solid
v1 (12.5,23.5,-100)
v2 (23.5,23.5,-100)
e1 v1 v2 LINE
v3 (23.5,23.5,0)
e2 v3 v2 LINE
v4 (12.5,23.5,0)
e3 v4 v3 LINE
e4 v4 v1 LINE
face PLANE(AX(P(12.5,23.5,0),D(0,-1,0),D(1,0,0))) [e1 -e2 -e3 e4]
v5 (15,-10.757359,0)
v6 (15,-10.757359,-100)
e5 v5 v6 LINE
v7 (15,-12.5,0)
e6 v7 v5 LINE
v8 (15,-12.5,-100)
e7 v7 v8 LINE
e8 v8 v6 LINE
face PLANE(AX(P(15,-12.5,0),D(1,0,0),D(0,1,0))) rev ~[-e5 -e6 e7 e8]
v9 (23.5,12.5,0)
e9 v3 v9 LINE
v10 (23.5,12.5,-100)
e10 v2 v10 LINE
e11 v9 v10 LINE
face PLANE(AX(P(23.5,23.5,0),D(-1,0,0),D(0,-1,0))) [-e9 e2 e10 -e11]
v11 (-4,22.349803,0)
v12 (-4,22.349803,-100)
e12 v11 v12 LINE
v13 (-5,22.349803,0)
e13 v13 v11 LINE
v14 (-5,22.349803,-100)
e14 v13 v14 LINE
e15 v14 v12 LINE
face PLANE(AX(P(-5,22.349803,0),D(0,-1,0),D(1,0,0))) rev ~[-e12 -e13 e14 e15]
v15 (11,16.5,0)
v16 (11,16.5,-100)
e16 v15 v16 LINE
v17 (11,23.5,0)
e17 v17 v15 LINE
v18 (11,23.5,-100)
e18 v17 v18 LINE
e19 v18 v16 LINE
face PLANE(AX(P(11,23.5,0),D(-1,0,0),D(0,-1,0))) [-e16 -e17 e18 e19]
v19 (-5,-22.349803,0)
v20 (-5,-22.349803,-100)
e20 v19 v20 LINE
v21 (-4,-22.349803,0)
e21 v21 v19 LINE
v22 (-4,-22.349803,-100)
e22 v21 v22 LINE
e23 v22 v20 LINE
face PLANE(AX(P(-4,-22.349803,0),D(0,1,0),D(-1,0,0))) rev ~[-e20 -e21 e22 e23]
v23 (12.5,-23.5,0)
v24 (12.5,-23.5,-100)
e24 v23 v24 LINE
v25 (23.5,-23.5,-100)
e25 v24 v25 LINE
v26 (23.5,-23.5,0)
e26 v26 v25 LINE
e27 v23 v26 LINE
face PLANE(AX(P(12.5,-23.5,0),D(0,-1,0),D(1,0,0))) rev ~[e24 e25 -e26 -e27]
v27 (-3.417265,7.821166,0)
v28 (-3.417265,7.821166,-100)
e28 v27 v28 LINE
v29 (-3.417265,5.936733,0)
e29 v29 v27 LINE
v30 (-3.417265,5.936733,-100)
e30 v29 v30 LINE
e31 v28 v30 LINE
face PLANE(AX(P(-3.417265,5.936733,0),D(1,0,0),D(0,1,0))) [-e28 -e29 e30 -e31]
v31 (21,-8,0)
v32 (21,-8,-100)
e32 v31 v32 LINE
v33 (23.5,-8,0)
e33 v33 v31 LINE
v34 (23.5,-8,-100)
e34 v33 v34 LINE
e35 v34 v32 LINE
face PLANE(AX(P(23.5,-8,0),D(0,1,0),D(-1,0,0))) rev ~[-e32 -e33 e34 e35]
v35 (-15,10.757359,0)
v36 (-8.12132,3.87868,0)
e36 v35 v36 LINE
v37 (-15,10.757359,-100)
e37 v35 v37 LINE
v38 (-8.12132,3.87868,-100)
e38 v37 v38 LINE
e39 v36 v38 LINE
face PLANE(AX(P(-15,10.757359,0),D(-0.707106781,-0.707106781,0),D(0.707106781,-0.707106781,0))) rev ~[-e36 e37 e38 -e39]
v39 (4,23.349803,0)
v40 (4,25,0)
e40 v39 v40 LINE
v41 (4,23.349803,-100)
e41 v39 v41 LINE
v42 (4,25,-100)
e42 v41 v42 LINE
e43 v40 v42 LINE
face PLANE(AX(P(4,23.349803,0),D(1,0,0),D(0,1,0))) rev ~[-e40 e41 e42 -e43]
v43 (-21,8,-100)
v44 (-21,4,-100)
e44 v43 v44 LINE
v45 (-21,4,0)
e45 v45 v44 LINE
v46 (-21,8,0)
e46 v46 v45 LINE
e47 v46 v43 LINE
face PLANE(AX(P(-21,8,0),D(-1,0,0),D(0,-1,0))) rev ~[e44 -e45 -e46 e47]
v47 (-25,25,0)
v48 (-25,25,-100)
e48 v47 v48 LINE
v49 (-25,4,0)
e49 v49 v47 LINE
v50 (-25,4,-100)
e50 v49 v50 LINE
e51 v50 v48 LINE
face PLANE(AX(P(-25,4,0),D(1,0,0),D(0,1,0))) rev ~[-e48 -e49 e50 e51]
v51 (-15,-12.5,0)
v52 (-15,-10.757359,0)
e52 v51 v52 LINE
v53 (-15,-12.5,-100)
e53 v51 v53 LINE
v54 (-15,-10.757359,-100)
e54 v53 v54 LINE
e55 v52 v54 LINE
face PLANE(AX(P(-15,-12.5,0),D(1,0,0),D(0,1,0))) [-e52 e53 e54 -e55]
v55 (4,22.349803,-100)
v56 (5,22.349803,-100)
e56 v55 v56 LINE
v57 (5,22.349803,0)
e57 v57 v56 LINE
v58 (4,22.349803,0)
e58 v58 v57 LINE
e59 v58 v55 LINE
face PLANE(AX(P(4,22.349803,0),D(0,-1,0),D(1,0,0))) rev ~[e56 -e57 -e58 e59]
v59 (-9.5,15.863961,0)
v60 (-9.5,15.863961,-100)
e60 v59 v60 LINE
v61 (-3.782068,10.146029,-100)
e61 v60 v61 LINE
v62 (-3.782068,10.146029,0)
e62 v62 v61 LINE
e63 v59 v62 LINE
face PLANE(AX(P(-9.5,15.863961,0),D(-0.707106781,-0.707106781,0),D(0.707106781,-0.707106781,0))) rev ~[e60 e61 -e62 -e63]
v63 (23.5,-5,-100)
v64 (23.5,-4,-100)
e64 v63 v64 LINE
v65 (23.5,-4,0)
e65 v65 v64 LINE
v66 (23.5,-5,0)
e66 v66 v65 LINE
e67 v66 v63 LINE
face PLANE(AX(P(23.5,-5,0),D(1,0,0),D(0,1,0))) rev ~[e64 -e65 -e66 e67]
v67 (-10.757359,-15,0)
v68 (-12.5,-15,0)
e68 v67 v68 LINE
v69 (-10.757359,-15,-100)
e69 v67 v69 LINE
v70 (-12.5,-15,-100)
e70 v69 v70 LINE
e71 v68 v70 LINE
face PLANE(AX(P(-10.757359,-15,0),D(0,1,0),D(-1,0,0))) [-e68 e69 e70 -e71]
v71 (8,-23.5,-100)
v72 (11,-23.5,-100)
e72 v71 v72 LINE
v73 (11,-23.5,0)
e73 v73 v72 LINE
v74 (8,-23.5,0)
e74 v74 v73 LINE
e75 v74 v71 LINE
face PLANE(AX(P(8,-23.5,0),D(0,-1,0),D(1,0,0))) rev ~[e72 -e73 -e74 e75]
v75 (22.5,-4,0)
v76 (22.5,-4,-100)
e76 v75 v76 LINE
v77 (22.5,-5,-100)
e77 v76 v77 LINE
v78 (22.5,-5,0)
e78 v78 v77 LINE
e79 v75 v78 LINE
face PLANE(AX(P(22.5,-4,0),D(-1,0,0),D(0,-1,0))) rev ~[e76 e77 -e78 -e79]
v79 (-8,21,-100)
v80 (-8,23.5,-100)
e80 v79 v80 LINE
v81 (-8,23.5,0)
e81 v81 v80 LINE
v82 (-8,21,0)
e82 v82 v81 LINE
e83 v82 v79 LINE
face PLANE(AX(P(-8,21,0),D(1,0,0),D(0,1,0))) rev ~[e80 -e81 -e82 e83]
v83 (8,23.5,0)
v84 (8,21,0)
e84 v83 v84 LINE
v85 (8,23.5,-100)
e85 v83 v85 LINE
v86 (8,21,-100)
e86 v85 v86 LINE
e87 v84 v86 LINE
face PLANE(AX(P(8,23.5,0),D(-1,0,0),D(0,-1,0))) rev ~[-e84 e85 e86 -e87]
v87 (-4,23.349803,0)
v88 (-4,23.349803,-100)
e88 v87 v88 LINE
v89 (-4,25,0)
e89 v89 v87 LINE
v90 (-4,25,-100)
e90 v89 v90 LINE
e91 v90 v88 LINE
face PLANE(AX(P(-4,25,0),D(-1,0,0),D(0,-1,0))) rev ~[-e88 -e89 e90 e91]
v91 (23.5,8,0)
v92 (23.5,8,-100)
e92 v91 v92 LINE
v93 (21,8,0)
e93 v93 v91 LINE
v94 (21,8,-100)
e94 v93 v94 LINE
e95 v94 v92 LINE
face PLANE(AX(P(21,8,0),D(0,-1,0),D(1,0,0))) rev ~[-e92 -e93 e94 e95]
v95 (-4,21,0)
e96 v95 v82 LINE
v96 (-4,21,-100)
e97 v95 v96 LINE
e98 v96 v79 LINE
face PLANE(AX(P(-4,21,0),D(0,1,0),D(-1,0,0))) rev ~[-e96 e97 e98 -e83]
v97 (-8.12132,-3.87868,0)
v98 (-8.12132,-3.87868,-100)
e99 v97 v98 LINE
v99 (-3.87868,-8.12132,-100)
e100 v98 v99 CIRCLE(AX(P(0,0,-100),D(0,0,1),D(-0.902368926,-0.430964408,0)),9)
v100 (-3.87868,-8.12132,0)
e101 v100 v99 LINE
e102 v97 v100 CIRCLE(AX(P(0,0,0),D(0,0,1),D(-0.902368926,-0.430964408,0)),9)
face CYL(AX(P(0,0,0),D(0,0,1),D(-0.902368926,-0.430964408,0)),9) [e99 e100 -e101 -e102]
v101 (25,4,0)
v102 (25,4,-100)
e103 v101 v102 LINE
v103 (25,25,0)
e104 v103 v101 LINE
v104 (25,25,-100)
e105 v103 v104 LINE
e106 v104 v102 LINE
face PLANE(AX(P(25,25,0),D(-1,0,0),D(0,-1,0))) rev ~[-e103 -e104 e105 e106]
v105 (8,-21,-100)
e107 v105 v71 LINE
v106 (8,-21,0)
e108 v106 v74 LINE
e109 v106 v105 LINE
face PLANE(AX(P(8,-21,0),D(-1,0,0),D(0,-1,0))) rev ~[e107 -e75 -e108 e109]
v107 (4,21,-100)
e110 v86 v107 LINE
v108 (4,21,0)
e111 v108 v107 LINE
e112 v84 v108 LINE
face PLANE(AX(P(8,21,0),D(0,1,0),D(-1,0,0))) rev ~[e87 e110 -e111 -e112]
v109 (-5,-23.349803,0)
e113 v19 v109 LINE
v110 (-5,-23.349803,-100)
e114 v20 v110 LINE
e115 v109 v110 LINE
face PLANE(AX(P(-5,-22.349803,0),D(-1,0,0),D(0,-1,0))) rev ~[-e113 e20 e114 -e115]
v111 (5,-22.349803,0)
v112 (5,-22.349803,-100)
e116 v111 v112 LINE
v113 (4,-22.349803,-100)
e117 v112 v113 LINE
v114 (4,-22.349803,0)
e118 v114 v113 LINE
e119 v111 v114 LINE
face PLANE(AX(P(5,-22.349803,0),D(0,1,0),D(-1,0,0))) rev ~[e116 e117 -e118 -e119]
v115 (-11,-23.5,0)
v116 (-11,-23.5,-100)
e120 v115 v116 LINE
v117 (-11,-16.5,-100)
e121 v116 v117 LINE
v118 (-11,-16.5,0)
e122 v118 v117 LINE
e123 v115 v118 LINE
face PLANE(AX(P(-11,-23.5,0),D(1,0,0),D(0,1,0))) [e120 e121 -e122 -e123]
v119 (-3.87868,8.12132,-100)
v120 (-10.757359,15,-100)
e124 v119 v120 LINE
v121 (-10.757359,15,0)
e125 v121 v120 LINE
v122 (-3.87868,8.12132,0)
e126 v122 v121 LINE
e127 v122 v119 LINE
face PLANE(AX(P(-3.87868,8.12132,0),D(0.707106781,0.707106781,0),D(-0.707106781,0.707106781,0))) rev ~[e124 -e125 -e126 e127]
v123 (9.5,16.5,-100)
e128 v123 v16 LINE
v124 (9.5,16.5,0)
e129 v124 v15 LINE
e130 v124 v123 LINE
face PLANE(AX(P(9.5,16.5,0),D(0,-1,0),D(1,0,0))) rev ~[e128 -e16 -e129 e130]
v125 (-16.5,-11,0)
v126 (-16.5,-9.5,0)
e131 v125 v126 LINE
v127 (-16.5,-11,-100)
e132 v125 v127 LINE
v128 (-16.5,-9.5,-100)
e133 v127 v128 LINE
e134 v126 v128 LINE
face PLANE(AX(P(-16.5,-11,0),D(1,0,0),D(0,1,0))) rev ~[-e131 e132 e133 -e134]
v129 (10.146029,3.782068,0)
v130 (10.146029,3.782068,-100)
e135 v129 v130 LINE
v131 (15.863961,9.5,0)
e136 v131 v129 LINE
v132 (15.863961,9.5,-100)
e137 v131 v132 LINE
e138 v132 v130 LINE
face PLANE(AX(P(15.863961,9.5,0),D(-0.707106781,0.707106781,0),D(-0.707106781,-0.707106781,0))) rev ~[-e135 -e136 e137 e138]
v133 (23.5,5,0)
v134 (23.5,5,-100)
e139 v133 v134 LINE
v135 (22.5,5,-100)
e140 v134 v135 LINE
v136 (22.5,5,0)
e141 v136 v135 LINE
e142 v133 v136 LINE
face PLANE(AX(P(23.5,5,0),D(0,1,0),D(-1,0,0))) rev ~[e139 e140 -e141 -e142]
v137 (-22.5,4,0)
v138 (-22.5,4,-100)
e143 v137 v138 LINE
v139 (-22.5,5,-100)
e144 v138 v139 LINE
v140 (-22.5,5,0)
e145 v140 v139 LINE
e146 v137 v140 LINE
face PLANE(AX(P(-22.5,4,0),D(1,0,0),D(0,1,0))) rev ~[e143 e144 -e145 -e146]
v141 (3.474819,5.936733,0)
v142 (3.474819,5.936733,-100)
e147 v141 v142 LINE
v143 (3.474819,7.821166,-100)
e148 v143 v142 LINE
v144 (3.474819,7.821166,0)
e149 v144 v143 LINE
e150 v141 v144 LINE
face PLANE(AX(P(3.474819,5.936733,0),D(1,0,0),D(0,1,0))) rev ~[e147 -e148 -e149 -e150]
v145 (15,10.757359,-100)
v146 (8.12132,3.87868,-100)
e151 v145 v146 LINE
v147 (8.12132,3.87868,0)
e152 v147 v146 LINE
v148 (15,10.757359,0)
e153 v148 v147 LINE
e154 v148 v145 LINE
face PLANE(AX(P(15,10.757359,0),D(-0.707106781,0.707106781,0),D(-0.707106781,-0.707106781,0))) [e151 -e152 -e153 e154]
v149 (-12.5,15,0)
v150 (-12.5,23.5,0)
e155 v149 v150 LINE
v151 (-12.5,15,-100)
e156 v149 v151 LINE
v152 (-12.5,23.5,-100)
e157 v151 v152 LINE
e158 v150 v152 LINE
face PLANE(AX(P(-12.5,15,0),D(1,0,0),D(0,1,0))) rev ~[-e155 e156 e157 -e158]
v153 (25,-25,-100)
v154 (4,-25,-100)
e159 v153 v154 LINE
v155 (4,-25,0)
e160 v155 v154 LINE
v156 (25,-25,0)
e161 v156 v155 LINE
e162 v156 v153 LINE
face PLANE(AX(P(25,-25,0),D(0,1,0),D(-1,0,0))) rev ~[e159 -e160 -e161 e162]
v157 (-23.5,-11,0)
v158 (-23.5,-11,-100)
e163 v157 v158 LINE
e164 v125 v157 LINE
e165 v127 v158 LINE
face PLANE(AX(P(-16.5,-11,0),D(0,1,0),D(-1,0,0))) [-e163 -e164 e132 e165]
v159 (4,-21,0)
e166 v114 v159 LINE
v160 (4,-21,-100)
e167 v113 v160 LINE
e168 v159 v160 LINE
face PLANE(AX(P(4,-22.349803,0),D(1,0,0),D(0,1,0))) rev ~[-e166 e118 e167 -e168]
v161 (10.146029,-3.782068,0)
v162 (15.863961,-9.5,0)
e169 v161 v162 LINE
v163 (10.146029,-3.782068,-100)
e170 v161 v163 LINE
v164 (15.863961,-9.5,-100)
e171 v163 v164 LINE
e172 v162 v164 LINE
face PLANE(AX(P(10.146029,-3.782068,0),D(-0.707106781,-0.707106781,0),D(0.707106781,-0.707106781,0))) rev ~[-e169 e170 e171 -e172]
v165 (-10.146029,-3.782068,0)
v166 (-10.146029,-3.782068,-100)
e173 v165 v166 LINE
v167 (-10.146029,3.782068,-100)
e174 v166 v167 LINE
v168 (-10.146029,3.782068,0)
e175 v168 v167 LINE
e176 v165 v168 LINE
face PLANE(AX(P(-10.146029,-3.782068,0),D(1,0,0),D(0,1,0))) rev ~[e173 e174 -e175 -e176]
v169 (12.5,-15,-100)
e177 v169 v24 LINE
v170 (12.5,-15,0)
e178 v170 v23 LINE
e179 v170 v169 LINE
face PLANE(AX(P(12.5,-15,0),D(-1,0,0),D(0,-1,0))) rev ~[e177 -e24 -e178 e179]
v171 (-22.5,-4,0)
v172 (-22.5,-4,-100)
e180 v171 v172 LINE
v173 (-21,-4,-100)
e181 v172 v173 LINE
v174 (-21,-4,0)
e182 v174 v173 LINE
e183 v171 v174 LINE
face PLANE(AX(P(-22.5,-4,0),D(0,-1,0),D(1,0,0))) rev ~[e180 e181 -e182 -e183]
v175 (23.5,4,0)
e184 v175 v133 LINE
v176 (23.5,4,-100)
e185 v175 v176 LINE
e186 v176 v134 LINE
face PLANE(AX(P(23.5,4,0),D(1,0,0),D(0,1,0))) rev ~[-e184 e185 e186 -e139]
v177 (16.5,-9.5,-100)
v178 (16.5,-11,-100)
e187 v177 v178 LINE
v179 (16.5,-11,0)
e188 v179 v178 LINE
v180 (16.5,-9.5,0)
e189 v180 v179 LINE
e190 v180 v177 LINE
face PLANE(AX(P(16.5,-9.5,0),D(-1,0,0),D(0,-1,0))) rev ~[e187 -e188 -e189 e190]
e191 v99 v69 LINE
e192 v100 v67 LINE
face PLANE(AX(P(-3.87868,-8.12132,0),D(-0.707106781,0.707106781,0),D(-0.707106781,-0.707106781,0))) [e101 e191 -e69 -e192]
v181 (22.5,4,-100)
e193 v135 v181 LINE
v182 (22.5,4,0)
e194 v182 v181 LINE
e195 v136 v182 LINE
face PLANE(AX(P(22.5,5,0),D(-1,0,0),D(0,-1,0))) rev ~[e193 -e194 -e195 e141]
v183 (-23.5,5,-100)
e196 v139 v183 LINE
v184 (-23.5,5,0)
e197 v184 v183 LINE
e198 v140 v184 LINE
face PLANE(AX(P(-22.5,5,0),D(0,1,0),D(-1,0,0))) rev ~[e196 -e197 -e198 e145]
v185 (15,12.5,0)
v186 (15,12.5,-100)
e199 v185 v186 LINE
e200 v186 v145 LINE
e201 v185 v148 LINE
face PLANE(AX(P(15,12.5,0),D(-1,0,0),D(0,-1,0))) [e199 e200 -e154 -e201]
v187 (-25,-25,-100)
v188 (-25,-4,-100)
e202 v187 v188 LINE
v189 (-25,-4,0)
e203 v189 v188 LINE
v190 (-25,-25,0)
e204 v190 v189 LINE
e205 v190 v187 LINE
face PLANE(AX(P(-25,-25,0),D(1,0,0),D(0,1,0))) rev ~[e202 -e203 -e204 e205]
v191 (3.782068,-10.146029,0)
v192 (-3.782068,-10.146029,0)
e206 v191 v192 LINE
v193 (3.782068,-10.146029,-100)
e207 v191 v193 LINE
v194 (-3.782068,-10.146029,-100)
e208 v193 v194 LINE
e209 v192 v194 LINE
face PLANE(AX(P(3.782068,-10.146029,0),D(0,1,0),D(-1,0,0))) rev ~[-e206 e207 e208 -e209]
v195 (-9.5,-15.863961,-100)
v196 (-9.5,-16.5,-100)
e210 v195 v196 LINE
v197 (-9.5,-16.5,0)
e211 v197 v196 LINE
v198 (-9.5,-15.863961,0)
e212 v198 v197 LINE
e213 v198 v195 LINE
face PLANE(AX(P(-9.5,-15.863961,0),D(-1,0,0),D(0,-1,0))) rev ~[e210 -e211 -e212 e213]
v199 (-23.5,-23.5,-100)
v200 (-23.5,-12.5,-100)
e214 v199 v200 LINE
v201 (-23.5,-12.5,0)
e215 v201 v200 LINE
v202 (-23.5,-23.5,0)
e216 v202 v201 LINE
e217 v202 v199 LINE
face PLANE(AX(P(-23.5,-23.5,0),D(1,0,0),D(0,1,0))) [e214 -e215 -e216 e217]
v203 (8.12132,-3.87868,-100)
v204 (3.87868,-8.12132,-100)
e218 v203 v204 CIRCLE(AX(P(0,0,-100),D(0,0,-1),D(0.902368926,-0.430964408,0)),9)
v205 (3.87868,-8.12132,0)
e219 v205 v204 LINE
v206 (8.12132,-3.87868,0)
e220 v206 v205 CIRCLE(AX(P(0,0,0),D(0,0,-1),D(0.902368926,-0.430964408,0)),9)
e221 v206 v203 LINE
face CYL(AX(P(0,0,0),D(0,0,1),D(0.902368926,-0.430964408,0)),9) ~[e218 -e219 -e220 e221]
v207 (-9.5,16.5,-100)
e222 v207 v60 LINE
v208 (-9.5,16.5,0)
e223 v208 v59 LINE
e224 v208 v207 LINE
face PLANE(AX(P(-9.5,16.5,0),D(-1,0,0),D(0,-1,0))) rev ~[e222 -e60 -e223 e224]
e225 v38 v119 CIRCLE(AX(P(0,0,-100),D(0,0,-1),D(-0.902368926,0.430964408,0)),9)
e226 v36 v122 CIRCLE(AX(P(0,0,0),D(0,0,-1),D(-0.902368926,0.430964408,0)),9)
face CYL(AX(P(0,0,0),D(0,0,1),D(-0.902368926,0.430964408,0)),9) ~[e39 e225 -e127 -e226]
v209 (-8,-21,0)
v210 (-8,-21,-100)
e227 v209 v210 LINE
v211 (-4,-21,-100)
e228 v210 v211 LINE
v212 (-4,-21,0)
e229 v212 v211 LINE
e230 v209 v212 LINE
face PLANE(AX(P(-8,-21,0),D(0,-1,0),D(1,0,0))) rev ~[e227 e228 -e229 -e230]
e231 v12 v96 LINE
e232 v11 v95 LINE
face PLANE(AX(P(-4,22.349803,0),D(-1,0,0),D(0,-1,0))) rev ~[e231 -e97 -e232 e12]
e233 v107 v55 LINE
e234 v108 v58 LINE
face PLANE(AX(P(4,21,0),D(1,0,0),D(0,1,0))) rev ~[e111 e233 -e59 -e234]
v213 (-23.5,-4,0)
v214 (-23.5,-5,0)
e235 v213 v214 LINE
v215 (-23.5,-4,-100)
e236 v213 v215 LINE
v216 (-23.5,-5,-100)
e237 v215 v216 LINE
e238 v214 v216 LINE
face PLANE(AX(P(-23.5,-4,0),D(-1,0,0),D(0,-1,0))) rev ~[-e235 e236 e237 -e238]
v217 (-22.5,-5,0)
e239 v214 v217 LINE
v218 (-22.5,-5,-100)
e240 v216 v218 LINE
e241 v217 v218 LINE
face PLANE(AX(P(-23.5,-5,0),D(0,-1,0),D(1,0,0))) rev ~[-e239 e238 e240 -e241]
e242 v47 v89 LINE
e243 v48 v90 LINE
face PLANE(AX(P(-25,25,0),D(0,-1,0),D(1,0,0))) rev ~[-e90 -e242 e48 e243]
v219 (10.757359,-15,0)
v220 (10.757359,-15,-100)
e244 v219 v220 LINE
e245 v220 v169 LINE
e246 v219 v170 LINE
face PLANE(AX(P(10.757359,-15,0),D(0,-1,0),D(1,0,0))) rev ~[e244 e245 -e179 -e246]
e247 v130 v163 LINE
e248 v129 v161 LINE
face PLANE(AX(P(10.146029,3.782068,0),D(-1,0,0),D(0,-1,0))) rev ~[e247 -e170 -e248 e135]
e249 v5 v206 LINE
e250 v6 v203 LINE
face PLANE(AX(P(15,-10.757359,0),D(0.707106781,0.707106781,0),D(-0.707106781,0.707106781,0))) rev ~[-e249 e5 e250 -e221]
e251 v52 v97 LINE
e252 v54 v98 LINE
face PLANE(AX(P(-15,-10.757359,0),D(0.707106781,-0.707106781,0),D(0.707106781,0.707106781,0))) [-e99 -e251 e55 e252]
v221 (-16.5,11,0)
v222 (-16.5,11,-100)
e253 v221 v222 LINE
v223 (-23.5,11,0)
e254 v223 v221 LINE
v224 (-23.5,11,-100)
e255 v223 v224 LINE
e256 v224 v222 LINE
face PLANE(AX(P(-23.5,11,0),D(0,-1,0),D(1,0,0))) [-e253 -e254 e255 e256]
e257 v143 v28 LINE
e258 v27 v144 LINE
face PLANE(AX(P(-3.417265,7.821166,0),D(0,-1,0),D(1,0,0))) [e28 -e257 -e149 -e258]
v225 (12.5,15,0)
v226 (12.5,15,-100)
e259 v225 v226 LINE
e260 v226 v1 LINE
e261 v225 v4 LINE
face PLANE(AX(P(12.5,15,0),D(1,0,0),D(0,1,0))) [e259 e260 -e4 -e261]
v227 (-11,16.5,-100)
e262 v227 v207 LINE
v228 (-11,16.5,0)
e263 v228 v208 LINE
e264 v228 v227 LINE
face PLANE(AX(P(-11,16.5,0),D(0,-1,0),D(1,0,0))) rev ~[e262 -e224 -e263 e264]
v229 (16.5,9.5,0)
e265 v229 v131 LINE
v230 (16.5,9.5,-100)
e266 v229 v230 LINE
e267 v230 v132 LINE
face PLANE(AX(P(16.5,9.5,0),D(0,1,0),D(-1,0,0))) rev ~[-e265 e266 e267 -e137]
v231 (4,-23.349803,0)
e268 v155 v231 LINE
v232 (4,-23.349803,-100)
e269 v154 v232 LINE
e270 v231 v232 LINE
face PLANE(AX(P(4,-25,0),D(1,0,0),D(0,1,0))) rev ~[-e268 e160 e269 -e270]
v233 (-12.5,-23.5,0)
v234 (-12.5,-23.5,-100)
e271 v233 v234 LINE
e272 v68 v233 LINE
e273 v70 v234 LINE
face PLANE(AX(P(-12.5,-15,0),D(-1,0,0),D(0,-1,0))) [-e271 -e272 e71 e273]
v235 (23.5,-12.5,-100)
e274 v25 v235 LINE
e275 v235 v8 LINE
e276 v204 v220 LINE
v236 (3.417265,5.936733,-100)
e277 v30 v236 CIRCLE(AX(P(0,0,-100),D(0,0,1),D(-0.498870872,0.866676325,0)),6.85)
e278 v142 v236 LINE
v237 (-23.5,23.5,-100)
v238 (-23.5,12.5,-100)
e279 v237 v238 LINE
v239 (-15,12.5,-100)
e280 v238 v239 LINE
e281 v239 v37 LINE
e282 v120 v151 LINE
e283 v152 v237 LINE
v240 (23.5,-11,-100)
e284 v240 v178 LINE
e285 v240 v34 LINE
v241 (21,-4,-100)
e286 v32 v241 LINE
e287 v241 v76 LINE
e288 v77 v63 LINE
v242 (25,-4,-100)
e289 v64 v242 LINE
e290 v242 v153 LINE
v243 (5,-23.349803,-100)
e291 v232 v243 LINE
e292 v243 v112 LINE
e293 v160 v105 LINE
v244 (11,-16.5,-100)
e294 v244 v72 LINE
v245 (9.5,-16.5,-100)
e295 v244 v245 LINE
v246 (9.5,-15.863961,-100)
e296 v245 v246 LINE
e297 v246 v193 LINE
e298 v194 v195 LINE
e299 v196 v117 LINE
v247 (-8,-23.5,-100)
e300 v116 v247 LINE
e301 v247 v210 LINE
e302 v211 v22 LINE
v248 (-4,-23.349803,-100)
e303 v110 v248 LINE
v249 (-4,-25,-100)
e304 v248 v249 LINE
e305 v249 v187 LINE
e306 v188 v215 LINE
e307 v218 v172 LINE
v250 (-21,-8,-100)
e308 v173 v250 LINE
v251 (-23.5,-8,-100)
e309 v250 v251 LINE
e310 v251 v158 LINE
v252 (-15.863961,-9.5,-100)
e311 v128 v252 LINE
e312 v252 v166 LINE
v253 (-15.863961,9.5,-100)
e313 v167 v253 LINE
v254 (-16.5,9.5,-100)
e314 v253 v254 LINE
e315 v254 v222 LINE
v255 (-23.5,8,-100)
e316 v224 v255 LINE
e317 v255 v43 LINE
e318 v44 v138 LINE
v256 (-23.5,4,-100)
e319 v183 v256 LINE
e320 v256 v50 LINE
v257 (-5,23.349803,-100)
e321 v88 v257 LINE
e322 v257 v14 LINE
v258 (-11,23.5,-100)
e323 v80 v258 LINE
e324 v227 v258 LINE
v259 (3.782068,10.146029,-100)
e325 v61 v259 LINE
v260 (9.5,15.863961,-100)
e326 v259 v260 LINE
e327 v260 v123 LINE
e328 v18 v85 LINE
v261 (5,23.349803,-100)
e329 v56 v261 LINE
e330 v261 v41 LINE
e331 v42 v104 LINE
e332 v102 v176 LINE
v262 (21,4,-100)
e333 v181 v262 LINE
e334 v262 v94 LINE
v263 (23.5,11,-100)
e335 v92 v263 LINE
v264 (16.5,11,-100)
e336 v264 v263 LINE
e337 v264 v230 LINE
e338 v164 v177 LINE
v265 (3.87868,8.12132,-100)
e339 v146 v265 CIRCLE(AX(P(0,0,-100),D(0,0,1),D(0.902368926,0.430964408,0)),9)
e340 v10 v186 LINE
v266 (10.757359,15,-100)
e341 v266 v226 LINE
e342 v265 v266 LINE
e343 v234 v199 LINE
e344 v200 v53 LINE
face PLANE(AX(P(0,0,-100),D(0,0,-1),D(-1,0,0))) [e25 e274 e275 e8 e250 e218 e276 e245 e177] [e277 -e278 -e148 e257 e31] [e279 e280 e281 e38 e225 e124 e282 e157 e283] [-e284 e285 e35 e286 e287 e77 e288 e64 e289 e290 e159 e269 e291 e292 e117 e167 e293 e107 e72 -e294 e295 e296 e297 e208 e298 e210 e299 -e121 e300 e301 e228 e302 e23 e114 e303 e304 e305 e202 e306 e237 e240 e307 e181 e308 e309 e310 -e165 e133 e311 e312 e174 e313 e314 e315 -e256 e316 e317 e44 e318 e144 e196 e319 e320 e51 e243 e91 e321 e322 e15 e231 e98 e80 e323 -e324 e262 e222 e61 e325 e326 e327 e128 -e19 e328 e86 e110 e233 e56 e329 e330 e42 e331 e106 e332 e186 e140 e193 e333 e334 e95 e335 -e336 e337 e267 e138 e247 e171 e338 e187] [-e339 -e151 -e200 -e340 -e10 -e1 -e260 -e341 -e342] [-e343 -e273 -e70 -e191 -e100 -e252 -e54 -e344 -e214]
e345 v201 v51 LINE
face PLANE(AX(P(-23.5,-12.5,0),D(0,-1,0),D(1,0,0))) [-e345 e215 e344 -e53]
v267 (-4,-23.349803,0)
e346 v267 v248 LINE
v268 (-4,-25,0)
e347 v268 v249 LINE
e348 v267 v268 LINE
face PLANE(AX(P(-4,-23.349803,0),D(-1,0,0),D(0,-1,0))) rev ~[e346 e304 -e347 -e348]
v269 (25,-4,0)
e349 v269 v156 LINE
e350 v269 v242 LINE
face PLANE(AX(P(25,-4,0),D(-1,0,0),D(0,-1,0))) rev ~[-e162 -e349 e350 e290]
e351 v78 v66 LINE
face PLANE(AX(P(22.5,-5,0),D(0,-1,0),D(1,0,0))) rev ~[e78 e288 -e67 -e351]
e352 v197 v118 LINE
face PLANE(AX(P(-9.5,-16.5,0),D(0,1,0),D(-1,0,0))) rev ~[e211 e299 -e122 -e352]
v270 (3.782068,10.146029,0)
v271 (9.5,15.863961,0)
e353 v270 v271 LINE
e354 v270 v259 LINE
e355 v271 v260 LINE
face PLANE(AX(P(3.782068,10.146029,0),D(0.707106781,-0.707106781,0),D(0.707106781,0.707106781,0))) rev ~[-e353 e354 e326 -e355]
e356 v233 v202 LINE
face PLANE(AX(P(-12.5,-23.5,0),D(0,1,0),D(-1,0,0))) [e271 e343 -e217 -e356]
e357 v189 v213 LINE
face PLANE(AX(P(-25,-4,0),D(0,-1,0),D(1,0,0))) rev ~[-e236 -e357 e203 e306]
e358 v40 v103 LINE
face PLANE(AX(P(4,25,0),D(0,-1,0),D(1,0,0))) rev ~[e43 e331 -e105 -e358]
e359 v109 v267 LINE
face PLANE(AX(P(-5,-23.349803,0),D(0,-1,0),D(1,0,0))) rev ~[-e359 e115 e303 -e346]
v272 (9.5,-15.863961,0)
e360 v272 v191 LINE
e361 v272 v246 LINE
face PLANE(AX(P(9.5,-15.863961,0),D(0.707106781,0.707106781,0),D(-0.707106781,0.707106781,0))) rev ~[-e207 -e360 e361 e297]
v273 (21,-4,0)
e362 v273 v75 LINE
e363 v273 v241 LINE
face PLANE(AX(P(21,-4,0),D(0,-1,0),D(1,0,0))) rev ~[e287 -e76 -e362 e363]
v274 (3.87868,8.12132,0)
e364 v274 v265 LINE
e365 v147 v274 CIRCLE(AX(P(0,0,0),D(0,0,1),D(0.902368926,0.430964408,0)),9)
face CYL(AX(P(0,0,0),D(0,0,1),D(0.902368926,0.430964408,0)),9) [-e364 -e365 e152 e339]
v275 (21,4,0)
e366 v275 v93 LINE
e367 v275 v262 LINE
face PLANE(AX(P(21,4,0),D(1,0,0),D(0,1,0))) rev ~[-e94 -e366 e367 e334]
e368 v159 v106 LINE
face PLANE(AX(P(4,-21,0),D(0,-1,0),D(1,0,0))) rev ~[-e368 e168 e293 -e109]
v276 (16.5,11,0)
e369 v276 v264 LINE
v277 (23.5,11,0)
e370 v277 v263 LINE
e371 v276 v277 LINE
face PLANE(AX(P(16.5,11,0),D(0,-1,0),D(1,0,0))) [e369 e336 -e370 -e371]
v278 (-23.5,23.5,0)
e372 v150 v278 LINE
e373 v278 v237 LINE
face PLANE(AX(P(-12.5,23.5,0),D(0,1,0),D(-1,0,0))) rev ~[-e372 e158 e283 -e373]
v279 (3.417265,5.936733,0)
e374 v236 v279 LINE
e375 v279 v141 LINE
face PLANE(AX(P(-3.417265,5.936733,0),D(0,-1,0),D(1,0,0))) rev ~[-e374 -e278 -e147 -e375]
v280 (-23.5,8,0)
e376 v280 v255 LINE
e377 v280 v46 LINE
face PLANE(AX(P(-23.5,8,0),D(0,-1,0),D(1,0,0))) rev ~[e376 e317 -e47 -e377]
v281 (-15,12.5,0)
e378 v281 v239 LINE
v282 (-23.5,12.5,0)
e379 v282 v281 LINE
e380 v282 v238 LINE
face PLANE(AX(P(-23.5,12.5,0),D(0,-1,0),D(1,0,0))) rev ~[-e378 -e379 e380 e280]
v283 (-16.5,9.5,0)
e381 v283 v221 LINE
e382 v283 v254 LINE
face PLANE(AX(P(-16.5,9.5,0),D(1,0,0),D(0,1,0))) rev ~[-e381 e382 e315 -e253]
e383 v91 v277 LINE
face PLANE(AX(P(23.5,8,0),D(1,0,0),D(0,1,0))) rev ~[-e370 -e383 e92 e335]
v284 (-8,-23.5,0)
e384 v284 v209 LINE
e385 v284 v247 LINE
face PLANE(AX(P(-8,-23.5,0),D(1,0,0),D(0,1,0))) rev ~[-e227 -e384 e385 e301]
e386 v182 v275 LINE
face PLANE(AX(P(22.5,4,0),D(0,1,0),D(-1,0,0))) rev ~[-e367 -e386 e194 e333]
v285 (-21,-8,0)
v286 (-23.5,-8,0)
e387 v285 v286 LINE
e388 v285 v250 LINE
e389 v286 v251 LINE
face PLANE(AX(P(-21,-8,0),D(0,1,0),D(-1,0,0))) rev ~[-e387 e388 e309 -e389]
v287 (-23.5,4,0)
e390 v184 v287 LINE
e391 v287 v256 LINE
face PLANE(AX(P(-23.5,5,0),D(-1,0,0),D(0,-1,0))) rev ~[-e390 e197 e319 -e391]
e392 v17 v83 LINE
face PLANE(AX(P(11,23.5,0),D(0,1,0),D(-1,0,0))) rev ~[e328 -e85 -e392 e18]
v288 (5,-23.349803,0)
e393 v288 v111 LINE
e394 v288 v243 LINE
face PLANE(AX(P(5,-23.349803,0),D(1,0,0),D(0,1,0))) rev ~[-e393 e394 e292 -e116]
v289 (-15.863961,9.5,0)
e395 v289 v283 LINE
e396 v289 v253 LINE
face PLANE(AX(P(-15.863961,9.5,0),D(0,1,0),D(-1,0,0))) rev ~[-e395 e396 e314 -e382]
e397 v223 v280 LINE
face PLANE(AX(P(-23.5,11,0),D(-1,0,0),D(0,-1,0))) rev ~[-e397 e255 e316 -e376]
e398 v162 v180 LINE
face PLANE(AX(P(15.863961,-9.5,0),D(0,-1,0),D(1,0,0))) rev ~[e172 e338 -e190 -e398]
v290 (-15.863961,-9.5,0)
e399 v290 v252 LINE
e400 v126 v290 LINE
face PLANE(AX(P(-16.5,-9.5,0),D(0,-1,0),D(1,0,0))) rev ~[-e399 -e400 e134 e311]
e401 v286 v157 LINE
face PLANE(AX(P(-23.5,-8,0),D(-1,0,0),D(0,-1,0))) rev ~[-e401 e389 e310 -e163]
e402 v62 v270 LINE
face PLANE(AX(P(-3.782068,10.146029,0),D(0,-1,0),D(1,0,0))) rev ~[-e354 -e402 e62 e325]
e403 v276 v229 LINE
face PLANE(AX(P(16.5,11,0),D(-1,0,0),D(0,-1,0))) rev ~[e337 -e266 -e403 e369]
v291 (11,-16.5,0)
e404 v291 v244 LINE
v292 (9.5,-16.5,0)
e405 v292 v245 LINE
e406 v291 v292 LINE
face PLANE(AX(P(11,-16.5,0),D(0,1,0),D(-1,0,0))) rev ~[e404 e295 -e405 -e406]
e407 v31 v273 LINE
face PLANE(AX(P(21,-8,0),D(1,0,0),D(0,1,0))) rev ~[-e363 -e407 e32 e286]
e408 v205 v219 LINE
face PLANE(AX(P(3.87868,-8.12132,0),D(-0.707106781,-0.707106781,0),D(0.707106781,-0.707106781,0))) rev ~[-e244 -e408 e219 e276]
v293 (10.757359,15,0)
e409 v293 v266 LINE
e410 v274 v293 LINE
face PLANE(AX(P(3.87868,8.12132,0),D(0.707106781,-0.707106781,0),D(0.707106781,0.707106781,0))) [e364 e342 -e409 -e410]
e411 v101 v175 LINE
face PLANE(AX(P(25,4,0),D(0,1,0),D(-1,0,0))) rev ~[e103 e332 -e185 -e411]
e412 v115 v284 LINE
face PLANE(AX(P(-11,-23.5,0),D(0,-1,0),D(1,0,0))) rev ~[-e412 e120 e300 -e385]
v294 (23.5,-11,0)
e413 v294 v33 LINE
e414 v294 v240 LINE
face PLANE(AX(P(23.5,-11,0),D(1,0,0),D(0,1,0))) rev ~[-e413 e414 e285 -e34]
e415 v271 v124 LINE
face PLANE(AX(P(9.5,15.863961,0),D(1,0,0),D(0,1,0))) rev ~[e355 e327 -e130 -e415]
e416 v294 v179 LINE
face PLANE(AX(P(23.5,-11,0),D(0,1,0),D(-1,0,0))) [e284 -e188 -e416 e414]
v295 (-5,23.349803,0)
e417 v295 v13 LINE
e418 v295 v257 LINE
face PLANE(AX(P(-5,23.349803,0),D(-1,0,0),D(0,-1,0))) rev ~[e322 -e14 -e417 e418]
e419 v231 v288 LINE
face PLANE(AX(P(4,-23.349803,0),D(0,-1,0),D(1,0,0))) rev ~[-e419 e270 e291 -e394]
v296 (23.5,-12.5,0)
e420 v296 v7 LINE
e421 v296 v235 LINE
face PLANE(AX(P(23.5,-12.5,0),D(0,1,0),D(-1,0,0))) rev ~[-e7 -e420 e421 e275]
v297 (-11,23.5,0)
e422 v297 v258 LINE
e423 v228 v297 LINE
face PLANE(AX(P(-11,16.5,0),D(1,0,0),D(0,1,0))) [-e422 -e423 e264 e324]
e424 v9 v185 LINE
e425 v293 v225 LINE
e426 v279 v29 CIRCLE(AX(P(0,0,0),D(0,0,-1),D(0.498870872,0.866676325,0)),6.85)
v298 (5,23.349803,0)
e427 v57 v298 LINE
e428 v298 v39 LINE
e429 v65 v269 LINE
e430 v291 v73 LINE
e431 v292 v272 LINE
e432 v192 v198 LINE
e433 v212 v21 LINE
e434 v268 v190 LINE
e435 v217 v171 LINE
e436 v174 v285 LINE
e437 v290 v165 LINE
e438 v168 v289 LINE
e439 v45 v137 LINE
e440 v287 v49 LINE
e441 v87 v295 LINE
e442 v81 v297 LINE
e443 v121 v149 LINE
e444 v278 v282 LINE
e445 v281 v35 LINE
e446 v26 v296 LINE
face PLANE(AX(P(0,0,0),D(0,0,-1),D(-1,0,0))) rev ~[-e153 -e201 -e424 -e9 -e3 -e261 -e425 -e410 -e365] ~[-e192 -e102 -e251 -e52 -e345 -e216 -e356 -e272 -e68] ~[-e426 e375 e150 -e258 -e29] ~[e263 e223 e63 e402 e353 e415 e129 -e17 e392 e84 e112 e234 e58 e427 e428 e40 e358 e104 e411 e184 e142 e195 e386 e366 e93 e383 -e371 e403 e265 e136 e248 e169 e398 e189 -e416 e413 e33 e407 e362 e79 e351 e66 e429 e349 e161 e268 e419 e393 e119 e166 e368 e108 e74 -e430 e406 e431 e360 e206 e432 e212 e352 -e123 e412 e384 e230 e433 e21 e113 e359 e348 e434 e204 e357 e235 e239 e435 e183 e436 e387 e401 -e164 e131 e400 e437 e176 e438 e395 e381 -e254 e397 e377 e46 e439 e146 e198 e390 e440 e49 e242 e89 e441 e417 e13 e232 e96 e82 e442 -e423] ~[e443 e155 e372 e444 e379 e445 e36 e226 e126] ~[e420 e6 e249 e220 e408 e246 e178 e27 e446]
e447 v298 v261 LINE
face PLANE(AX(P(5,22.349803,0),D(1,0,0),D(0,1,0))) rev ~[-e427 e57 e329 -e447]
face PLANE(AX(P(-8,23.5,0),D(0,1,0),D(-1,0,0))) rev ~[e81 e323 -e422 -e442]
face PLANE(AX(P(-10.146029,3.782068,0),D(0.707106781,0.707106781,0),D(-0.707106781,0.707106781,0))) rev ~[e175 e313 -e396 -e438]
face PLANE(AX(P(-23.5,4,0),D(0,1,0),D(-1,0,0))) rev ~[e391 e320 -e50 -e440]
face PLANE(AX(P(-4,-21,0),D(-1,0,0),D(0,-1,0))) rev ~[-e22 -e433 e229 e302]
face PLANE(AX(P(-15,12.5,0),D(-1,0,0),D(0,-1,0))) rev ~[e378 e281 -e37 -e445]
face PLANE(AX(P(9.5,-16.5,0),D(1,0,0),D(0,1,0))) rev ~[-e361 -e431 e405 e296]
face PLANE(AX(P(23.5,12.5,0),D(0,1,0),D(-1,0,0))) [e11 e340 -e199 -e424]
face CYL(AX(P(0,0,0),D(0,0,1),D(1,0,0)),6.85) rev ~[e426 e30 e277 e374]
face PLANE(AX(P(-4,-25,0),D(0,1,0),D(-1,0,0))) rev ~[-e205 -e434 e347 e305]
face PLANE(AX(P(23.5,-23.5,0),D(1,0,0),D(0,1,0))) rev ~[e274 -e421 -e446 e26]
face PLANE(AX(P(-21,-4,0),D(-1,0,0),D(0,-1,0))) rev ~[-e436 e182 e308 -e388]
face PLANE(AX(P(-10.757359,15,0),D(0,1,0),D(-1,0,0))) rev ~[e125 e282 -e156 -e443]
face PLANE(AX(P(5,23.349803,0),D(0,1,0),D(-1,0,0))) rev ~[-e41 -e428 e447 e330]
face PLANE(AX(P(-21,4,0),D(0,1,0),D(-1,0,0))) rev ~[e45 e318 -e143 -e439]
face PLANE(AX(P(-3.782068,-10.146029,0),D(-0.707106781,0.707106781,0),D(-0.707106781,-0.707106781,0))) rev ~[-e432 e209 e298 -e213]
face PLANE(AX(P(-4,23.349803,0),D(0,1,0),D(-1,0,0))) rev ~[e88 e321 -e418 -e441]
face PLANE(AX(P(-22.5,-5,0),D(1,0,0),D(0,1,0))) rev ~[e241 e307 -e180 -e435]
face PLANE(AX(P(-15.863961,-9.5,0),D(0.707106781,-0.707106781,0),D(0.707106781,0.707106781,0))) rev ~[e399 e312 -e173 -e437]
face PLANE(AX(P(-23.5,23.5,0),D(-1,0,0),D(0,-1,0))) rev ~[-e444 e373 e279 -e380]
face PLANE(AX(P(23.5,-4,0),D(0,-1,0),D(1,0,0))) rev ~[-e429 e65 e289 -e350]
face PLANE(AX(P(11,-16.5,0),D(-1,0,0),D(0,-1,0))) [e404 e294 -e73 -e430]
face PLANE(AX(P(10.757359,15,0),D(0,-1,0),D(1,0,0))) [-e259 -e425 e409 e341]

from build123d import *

# Parameters (mm, degrees)
SKETCH_A01_1_R     = 6.85
EXTRUDE1_DEPTH     = 100
SKETCH1_W          = 6.892084618
SKETCH1_H          = 1.884433334
CUT_EXTRUDE1_DEPTH = 101


with BuildPart() as part:
    # Sketch A01-1 → Extrude1 (new body)
    with BuildSketch(Plane.XY):
        Polygon((-23.5, 4), (-25, 4), (-25, 25), (-4, 25), (-4, 23.349803168), (-5, 23.349803168), (-5, 22.349803168), (-4, 22.349803168), (-4, 21), (-8, 21), (-8, 23.5), (-11, 23.5), (-11, 21), (-11, 16.5), (-9.5, 16.5), (-9.5, 15.863961), (-3.78206785, 10.14602885), (3.78206785, 10.14602885), (9.5, 15.863961), (9.5, 16.5), (11, 16.5), (11, 21), (11, 23.5), (8, 23.5), (8, 21), (4, 21), (4, 22.349803168), (5, 22.349803168), (5, 23.349803168), (4, 23.349803168), (4, 25), (25, 25), (25, 4), (23.5, 4), (23.5, 5), (22.5, 5), (22.5, 4), (21, 4), (21, 8), (23.5, 8), (23.5, 11), (21, 11), (16.5, 11), (16.5, 9.5), (15.863961, 9.5), (10.14602885, 3.78206785), (10.14602885, -3.78206785), (15.863961, -9.5), (16.5, -9.5), (16.5, -11), (21, -11), (23.5, -11), (23.5, -8), (21, -8), (21, -4), (22.5, -4), (22.5, -5), (23.5, -5), (23.5, -4), (25, -4), (25, -25), (4, -25), (4, -23.349803168), (5, -23.349803168), (5, -22.349803168), (4, -22.349803168), (4, -21), (8, -21), (8, -23.5), (11, -23.5), (11, -21), (11, -16.5), (9.5, -16.5), (9.5, -15.863961), (3.78206785, -10.14602885), (-3.78206785, -10.14602885), (-9.5, -15.863961), (-9.5, -16.5), (-11, -16.5), (-11, -21), (-11, -23.5), (-8, -23.5), (-8, -21), (-4, -21), (-4, -22.349803168), (-5, -22.349803168), (-5, -23.349803168), (-4, -23.349803168), (-4, -25), (-25, -25), (-25, -4), (-23.5, -4), (-23.5, -5), (-22.5, -5), (-22.5, -4), (-21, -4), (-21, -8), (-23.5, -8), (-23.5, -11), (-21, -11), (-16.5, -11), (-16.5, -9.5), (-15.863961, -9.5), (-10.14602885, -3.78206785), (-10.14602885, 3.78206785), (-15.863961, 9.5), (-16.5, 9.5), (-16.5, 11), (-21, 11), (-23.5, 11), (-23.5, 8), (-21, 8), (-21, 4), (-22.5, 4), (-22.5, 5), (-23.5, 5), align=None)
        Circle(SKETCH_A01_1_R, mode=Mode.SUBTRACT)
        with BuildLine():
            Line((-23.5, 23.5), (-23.5, 12.5))
            Line((-23.5, 12.5), (-15, 12.5))
            Line((-15, 12.5), (-15, 10.757359344))
            Line((-15, 10.757359344), (-8.121320334, 3.878679677))
            ThreePointArc((-8.121320334, 3.878679677), (-6.363961031, 6.363961031), (-3.878679677, 8.121320334))
            Line((-3.878679677, 8.121320334), (-10.757359344, 15))
            Line((-10.757359344, 15), (-12.5, 15))
            Line((-12.5, 15), (-12.5, 23.5))
            Line((-12.5, 23.5), (-23.5, 23.5))
        make_face(mode=Mode.SUBTRACT)
        with BuildLine():
            Line((10.757359344, 15), (12.5, 15))
            Line((12.5, 15), (12.5, 23.5))
            Line((12.5, 23.5), (23.5, 23.5))
            Line((23.5, 23.5), (23.5, 12.5))
            Line((23.5, 12.5), (15, 12.5))
            Line((15, 12.5), (15, 10.757359344))
            Line((15, 10.757359344), (8.121320334, 3.878679677))
            ThreePointArc((8.121320334, 3.878679677), (6.363961031, 6.363961031), (3.878679677, 8.121320334))
            Line((3.878679677, 8.121320334), (10.757359344, 15))
        make_face(mode=Mode.SUBTRACT)
        with BuildLine():
            Line((23.5, -23.5), (23.5, -12.5))
            Line((23.5, -12.5), (15, -12.5))
            Line((15, -12.5), (15, -10.757359344))
            Line((15, -10.757359344), (8.121320334, -3.878679677))
            ThreePointArc((8.121320334, -3.878679677), (6.363961031, -6.363961031), (3.878679677, -8.121320334))
            Line((3.878679677, -8.121320334), (10.757359344, -15))
            Line((10.757359344, -15), (12.5, -15))
            Line((12.5, -15), (12.5, -23.5))
            Line((12.5, -23.5), (23.5, -23.5))
        make_face(mode=Mode.SUBTRACT)
        with BuildLine():
            Line((-10.757359344, -15), (-12.5, -15))
            Line((-12.5, -15), (-12.5, -23.5))
            Line((-12.5, -23.5), (-23.5, -23.5))
            Line((-23.5, -23.5), (-23.5, -12.5))
            Line((-23.5, -12.5), (-15, -12.5))
            Line((-15, -12.5), (-15, -10.757359344))
            Line((-15, -10.757359344), (-8.121320334, -3.878679677))
            ThreePointArc((-8.121320334, -3.878679677), (-6.363961031, -6.363961031), (-3.878679677, -8.121320334))
            Line((-3.878679677, -8.121320334), (-10.757359344, -15))
        make_face(mode=Mode.SUBTRACT)
    extrude(amount=-EXTRUDE1_DEPTH)

    # Sketch1 → Cut-Extrude1 (cut, through all)
    with BuildSketch(Plane.XY):
        with Locations((0.028776834, 6.878949495)):
            Rectangle(SKETCH1_W, SKETCH1_H)
    extrude(amount=-CUT_EXTRUDE1_DEPTH, mode=Mode.SUBTRACT)


solid = part.part
